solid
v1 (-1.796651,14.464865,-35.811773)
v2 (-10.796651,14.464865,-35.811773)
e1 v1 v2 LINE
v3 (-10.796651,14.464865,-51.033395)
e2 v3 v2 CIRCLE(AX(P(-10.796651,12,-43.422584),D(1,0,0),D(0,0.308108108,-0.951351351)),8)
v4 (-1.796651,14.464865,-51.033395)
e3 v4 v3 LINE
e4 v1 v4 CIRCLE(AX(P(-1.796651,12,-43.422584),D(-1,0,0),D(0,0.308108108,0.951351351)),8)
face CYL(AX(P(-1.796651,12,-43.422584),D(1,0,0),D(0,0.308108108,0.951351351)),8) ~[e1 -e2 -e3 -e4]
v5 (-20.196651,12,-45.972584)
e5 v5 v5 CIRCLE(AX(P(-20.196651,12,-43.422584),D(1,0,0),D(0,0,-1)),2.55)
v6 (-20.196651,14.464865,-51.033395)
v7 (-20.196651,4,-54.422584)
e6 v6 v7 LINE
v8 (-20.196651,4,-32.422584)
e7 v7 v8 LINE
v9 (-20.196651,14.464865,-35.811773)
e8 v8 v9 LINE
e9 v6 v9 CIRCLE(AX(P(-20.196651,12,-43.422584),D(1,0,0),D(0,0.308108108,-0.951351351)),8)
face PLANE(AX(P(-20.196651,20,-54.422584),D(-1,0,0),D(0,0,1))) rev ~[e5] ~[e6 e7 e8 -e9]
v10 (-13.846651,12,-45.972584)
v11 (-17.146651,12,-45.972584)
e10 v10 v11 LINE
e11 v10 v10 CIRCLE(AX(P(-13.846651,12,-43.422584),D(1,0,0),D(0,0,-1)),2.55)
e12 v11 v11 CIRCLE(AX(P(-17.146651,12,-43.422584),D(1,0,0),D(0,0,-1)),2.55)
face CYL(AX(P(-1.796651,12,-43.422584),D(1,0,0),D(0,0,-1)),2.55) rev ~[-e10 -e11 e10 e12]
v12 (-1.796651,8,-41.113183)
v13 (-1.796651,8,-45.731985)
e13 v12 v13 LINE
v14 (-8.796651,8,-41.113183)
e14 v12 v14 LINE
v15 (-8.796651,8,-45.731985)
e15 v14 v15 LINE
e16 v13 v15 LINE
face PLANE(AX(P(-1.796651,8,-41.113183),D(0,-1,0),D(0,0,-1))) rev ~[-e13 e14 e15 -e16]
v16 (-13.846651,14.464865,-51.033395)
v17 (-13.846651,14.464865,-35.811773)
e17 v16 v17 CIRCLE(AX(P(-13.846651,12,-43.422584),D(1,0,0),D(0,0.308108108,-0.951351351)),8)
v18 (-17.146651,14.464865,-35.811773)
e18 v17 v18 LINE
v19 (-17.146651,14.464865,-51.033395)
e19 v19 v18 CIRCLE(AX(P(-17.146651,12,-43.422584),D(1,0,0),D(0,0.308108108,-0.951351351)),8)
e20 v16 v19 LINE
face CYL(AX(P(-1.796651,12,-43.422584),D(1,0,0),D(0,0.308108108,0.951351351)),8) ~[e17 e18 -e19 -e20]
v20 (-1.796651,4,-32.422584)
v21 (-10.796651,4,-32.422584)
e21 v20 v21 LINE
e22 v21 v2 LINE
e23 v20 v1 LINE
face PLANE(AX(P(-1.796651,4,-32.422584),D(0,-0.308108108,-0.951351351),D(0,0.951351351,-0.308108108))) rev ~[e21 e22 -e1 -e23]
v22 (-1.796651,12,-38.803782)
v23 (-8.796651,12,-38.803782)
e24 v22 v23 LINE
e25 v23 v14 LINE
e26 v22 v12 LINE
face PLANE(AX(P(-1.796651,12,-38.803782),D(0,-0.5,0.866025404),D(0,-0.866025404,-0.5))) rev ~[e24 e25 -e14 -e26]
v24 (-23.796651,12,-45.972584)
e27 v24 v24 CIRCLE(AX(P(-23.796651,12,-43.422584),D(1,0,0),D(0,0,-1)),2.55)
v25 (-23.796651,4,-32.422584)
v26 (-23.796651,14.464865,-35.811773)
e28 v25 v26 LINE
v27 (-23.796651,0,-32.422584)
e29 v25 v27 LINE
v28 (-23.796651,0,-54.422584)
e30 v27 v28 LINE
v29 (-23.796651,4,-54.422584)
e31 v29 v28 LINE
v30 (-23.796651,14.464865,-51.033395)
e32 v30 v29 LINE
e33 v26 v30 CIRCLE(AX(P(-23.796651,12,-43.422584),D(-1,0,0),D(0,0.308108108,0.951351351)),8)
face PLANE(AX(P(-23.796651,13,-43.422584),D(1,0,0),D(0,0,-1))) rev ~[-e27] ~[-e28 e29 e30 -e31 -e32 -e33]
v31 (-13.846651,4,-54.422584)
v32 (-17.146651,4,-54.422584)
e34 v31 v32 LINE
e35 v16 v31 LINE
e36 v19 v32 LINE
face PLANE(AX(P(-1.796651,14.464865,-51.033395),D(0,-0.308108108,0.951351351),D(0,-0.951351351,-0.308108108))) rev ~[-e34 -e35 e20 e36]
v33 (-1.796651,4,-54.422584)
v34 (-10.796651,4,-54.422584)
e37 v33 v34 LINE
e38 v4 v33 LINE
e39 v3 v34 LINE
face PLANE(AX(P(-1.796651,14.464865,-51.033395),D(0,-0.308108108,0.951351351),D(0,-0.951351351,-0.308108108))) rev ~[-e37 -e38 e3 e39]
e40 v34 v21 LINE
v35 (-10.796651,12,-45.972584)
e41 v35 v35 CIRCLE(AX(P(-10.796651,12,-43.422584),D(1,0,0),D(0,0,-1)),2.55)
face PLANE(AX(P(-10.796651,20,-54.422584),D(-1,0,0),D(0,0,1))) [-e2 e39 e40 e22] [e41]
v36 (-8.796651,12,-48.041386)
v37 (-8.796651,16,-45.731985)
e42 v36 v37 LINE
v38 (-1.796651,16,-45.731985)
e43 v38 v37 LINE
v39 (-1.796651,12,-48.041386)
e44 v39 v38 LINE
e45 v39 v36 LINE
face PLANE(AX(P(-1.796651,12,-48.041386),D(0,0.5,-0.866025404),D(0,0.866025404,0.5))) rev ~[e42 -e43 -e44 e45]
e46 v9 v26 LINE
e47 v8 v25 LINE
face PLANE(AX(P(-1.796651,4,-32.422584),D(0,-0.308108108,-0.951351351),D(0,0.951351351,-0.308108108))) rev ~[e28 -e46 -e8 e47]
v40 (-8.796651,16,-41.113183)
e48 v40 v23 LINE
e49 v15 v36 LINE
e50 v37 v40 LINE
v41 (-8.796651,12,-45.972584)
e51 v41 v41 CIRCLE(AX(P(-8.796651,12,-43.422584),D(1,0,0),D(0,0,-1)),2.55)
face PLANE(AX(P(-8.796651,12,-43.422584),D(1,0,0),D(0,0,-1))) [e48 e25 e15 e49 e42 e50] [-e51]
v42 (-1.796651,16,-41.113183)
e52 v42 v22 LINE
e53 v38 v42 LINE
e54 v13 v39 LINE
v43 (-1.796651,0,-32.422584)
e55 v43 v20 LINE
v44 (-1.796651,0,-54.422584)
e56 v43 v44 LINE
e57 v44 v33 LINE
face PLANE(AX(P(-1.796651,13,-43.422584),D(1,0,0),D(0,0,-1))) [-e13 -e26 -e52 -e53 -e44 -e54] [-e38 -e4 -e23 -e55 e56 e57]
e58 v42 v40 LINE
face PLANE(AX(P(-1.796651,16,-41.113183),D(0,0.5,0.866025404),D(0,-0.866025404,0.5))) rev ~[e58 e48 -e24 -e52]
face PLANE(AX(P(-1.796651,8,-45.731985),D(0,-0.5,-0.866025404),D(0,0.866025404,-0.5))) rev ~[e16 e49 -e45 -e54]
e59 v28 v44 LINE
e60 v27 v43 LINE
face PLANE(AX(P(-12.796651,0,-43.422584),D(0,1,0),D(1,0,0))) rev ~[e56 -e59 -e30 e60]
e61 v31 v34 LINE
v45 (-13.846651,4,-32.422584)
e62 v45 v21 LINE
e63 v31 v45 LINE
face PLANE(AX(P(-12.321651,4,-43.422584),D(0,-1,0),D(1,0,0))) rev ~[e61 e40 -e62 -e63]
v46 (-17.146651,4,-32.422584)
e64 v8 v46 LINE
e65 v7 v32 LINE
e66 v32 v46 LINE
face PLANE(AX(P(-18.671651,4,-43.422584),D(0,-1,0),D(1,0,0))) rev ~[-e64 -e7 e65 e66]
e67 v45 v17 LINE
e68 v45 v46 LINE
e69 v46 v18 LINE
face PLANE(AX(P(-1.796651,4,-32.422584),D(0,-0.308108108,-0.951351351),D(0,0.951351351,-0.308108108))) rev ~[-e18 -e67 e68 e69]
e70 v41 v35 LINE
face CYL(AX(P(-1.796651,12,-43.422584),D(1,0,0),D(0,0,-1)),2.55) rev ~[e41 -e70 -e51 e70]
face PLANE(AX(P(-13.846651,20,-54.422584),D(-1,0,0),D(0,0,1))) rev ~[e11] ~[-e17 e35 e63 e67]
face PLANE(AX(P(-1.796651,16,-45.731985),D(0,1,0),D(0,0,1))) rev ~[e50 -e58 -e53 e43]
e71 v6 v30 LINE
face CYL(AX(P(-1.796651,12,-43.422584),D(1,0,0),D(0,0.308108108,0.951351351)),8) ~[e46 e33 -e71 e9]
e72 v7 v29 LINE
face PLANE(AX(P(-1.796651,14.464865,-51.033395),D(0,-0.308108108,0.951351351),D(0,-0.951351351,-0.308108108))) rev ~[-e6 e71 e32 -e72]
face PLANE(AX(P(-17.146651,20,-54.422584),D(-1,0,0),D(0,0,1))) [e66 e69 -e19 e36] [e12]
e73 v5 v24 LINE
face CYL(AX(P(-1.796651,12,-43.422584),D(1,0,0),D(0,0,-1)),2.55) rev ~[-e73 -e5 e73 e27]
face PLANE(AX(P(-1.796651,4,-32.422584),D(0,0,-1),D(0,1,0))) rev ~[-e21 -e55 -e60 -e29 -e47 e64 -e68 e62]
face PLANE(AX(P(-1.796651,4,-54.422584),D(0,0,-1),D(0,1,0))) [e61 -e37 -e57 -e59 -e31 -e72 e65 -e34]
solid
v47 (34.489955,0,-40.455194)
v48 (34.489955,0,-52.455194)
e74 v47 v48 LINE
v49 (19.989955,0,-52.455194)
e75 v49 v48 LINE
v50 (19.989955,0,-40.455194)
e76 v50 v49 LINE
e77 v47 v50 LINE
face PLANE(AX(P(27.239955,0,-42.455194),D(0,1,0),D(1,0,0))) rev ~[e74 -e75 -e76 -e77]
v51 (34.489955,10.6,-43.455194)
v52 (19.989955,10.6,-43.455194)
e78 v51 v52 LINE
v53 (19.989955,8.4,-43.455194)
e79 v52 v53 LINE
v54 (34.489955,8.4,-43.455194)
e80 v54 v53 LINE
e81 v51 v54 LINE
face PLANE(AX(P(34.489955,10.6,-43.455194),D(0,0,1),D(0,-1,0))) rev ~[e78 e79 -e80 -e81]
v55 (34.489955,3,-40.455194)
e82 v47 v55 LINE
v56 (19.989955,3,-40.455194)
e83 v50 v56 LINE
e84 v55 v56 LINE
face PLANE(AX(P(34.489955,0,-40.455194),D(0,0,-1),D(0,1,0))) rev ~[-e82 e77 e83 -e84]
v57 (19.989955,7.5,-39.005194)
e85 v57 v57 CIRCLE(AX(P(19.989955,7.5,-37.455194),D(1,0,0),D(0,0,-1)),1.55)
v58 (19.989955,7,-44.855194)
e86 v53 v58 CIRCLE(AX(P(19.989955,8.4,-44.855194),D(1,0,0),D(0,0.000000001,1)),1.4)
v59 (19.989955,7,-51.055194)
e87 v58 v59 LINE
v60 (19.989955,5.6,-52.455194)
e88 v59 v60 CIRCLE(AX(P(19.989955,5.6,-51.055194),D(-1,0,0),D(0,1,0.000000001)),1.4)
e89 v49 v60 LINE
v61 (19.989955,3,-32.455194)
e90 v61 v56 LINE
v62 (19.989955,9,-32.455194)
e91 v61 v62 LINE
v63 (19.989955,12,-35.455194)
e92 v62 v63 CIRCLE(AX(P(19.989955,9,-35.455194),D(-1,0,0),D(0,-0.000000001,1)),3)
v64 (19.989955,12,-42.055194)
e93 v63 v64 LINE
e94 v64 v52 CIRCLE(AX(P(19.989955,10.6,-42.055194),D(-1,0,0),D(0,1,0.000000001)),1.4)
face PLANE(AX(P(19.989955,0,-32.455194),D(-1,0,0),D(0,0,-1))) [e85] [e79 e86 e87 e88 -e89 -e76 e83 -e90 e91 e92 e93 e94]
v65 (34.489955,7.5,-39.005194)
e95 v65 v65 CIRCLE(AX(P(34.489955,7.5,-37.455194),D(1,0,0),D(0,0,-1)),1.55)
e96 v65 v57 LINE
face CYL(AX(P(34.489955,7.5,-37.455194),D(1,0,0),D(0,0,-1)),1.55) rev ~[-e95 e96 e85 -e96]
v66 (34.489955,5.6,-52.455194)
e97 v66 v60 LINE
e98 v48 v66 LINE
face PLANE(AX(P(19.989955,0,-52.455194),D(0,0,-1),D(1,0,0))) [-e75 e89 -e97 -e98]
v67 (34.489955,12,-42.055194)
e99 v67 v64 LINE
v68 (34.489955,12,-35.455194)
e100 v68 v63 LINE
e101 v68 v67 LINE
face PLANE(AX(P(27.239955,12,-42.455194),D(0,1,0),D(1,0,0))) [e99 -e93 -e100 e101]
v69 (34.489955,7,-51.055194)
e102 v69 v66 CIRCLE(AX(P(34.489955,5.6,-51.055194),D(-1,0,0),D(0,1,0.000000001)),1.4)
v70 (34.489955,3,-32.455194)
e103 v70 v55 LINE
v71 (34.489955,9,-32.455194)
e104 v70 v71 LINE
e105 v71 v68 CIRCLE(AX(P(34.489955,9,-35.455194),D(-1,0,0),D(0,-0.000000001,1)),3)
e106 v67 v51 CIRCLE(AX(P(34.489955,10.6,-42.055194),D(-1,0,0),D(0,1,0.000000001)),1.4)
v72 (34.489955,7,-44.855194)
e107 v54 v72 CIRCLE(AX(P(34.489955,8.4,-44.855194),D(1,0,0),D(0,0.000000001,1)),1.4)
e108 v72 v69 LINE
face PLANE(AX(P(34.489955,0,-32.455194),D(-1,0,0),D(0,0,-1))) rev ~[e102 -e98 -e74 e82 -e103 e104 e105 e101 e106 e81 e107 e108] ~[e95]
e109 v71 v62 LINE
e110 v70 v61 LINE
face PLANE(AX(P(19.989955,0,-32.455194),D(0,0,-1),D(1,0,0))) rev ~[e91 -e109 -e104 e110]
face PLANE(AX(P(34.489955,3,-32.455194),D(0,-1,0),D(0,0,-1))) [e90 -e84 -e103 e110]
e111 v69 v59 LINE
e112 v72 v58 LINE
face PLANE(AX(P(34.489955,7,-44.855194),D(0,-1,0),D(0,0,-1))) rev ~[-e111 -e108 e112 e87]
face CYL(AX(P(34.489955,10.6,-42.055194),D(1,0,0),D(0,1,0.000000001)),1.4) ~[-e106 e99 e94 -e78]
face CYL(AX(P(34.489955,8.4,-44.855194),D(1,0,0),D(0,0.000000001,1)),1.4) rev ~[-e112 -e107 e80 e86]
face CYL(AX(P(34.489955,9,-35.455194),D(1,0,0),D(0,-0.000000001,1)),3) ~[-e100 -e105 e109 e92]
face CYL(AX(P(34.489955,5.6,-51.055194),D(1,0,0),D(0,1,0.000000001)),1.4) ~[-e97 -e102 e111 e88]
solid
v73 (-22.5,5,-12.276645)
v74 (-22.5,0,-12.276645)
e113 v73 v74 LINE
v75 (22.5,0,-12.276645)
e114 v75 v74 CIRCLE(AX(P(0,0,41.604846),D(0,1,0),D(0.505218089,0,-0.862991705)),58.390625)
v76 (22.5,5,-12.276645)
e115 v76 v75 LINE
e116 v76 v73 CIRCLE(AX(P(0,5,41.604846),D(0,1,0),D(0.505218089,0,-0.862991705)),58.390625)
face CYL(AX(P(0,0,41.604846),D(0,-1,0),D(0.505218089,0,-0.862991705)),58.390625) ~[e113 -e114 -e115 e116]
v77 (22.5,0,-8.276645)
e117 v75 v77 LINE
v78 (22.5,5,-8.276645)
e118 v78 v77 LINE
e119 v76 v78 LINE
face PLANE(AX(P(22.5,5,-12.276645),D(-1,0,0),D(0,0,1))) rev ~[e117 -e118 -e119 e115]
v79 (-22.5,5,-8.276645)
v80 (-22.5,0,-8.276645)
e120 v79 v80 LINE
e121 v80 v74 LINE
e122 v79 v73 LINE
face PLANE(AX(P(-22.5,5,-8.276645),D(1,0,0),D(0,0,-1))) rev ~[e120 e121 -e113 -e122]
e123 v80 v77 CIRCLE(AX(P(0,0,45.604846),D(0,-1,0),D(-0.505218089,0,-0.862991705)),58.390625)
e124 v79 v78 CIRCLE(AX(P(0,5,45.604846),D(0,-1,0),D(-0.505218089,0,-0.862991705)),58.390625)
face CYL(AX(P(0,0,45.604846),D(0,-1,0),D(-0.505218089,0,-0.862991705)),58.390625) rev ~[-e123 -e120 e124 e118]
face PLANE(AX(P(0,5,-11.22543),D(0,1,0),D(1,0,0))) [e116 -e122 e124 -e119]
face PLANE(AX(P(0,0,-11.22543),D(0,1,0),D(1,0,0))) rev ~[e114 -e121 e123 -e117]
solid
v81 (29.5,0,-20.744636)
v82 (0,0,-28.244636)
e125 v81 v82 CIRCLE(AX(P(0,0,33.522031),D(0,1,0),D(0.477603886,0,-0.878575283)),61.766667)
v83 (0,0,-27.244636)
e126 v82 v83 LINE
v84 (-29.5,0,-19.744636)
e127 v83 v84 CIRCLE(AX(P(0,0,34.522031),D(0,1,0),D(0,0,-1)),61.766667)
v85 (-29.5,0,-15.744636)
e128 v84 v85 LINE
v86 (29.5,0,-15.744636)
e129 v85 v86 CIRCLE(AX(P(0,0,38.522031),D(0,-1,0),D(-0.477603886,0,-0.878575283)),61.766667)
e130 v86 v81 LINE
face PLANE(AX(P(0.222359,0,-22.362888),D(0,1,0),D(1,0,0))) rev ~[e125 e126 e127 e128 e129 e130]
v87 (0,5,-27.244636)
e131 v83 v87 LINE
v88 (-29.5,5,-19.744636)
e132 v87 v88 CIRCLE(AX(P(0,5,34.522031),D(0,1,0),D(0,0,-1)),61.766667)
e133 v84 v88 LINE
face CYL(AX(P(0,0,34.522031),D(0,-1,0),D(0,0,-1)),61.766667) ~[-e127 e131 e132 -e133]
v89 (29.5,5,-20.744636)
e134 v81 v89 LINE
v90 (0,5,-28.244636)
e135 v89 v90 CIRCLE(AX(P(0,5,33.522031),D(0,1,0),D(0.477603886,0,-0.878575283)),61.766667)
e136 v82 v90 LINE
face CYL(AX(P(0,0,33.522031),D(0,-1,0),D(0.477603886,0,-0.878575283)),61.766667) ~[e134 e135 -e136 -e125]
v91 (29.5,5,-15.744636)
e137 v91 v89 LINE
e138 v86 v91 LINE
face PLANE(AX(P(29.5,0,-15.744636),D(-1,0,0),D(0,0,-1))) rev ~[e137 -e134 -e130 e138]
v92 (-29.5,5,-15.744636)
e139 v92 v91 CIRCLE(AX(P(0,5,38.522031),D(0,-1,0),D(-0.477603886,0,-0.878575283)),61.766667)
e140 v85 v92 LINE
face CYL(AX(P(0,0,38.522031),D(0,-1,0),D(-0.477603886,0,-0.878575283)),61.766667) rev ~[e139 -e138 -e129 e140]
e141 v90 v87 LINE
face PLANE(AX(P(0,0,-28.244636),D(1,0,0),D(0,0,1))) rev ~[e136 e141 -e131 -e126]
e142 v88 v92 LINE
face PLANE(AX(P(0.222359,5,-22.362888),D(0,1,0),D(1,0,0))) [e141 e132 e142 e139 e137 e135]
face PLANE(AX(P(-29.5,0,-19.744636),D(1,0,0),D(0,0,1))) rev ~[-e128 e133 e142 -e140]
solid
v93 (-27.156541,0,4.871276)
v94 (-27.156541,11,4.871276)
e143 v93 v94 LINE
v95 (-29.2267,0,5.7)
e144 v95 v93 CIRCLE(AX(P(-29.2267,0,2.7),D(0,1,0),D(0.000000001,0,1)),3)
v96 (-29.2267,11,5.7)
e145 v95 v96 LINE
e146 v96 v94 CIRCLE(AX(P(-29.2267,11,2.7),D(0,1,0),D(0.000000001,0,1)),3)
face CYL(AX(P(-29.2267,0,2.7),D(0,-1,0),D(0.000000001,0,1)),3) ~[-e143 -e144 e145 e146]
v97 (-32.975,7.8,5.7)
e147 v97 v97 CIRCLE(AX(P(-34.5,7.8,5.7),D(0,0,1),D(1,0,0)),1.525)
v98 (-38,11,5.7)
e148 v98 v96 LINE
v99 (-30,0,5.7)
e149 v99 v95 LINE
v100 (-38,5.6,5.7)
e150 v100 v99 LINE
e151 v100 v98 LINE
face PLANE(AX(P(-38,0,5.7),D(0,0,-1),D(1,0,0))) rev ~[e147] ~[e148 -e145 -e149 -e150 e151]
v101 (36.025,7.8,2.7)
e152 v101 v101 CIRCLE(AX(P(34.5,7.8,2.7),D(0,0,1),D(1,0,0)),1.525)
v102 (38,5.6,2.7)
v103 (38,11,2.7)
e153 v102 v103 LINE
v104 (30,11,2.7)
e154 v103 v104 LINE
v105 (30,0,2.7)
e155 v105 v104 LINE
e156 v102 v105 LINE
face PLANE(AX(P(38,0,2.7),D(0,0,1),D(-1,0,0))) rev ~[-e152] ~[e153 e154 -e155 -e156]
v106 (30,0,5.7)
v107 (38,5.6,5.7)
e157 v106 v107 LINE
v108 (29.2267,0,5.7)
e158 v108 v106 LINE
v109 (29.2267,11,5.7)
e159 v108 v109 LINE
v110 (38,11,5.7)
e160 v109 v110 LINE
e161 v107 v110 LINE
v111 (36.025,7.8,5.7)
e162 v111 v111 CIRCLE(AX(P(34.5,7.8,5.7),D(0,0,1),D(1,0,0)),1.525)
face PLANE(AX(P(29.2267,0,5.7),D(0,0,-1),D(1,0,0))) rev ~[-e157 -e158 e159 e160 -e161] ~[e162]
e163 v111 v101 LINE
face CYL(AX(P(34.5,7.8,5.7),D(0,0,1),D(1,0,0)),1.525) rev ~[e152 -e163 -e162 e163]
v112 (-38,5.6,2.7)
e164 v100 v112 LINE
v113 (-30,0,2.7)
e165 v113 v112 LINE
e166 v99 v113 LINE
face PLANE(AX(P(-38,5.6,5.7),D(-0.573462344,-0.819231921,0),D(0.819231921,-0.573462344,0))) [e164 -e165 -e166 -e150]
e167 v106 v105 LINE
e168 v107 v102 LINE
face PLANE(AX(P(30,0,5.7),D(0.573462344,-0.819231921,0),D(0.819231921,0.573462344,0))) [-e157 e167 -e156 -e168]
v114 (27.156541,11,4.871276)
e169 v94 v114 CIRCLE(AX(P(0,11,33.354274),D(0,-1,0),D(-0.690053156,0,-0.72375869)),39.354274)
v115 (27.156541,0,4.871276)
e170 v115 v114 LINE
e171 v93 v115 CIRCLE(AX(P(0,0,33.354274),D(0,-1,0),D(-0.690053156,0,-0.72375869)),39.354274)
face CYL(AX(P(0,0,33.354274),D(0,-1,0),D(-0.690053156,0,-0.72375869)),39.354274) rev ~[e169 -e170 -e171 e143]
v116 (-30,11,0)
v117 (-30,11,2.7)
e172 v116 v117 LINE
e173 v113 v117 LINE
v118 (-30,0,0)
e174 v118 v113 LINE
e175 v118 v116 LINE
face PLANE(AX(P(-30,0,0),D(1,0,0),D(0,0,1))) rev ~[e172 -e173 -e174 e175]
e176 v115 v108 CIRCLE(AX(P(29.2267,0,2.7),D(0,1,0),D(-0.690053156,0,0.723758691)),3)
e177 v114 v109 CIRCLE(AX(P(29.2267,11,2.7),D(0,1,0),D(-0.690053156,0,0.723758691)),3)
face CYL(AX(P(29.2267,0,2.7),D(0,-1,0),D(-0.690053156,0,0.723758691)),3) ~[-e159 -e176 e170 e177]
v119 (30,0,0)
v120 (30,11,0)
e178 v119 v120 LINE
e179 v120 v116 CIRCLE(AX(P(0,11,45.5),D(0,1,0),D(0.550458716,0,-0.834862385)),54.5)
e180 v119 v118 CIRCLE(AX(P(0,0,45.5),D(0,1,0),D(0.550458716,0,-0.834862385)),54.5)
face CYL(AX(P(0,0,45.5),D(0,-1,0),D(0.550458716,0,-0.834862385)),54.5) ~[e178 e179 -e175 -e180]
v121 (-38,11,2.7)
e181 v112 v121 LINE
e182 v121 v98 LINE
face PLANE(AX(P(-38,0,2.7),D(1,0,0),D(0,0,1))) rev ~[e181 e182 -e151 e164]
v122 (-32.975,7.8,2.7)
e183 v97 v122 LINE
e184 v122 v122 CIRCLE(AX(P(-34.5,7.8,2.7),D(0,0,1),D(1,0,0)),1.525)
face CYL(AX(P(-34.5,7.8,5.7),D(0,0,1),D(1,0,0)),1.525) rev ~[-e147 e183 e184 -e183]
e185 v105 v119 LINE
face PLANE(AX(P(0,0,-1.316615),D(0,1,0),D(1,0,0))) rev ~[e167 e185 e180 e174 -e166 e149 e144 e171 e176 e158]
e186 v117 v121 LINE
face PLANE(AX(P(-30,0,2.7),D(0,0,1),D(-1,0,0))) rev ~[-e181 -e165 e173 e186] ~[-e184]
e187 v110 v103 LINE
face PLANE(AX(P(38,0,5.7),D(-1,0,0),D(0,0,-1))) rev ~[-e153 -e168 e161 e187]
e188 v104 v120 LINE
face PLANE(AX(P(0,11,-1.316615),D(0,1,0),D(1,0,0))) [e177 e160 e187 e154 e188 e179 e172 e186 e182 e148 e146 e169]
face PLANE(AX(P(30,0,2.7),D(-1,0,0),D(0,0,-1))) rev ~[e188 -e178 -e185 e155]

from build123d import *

# Parameters (mm, degrees)
BOSS_EXTRUDE1_DEPTH = 11
CUT_EXTRUDE1_REACH  = 16.7
SKETCH2_R           = 1.525
CUT_EXTRUDE12_REACH = 16.7
BOSS_EXTRUDE2_DEPTH = 5
CUT_EXTRUDE11_DEPTH = 5
BOSS_EXTRUDE3_DEPTH = 5
SKETCH10_W          = 14.5
SKETCH10_H          = 20
BOSS_EXTRUDE6_DEPTH = 12
SKETCH11_W          = 8
SKETCH11_H          = 3
CUT_EXTRUDE5_DEPTH  = 14.5
SKETCH12_R          = 1.55
CUT_EXTRUDE6_DEPTH  = 14.5
SKETCH13_W          = 22
SKETCH13_H          = 22
BOSS_EXTRUDE7_DEPTH = 4
SKETCH14_W          = 22
SKETCH14_H          = 18
SKETCH14_R          = 2.55
BOSS_EXTRUDE8_DEPTH = 22
CUT_EXTRUDE7_DEPTH  = 22
CUT_EXTRUDE8_START  = -20
SKETCH17_W          = 3.05
SKETCH17_H          = 22
CUT_EXTRUDE8_DEPTH  = 16
CUT_EXTRUDE9_DEPTH  = 7


with BuildPart() as part:
    # Sketch1 → Boss-Extrude1 (new body)
    with BuildSketch(Plane(origin=(0, 0, 0), x_dir=(1, 0, 0), z_dir=(0, 1, 0))):
        with BuildLine():
            Line((-30, 0), (-30, -2.7))
            Line((-30, -2.7), (-38, -2.7))
            Line((-38, -2.7), (-38, -5.7))
            Line((-38, -5.7), (-29.226700122, -5.7))
            ThreePointArc((-29.226700122, -5.7), (-28.111762502, -5.485123714), (-27.156540652, -4.87127607))
            ThreePointArc((-27.156540652, -4.87127607), (0, 6), (27.156540652, -4.87127607))
            ThreePointArc((27.156540652, -4.87127607), (28.111762502, -5.485123714), (29.226700122, -5.7))
            Line((29.226700122, -5.7), (38, -5.7))
            Line((38, -5.7), (38, -2.7))
            Line((38, -2.7), (30, -2.7))
            Line((30, -2.7), (30, 0))
            ThreePointArc((30, 0), (0, 9), (-30, 0))
        make_face()
    extrude(amount=BOSS_EXTRUDE1_DEPTH)

    # Sketch2 → Cut-Extrude1 (cut, up to next)
    with BuildSketch(Plane.XY.offset(5.7), mode=Mode.PRIVATE) as cut_extrude1_sk1:
        with Locations((-34.5, 7.8)):
            Circle(SKETCH2_R)
    cut_extrude1_tool1 = extrude(cut_extrude1_sk1.sketch, amount=-CUT_EXTRUDE1_REACH, mode=Mode.PRIVATE) & part.part
    add(cut_extrude1_tool1.solids().sort_by_distance((-34.5, 7.8, 5.7))[0], mode=Mode.SUBTRACT)
    # Sketch2 → Cut-Extrude1 (cut, up to next)
    with BuildSketch(Plane.XY.offset(5.7), mode=Mode.PRIVATE) as cut_extrude1_sk2:
        with Locations((34.5, 7.8)):
            Circle(SKETCH2_R)
    cut_extrude1_tool2 = extrude(cut_extrude1_sk2.sketch, amount=-CUT_EXTRUDE1_REACH, mode=Mode.PRIVATE) & part.part
    add(cut_extrude1_tool2.solids().sort_by_distance((34.5, 7.8, 5.7))[0], mode=Mode.SUBTRACT)

    # Sketch20 → Cut-Extrude12 (cut, up to next)
    with BuildSketch(Plane.XY.offset(5.7), mode=Mode.PRIVATE) as cut_extrude12_sk1:
        Polygon((-38, 5.6), (-30, 0), (-38, 0), align=None)
    cut_extrude12_tool1 = extrude(cut_extrude12_sk1.sketch, amount=-CUT_EXTRUDE12_REACH, mode=Mode.PRIVATE) & part.part
    add(cut_extrude12_tool1.solids().sort_by_distance((-35.333333, 1.866667, 5.7))[0], mode=Mode.SUBTRACT)
    # Sketch20 → Cut-Extrude12 (cut, up to next)
    with BuildSketch(Plane.XY.offset(5.7), mode=Mode.PRIVATE) as cut_extrude12_sk2:
        Polygon((38, 0), (30, 0), (38, 5.6), align=None)
    cut_extrude12_tool2 = extrude(cut_extrude12_sk2.sketch, amount=-CUT_EXTRUDE12_REACH, mode=Mode.PRIVATE) & part.part
    add(cut_extrude12_tool2.solids().sort_by_distance((35.333333, 1.866667, 5.7))[0], mode=Mode.SUBTRACT)


with BuildPart() as body_2:
    # Sketch3 → Boss-Extrude2 (new body)
    with BuildSketch(Plane(origin=(0, 0, 0), x_dir=(1, 0, 0), z_dir=(0, 1, 0))):
        with BuildLine():
            Line((-29.5, 8.785778647), (-29.5, 4.785778647))
            ThreePointArc((-29.5, 4.785778647), (0, 12.785778647), (29.5, 4.785778647))
            Line((29.5, 4.785778647), (29.5, 8.785778647))
            ThreePointArc((29.5, 8.785778647), (0, 16.785778647), (-29.5, 8.785778647))
        make_face()
    extrude(amount=BOSS_EXTRUDE2_DEPTH)

    # Sketch21 → Cut-Extrude11 (cut)
    with BuildSketch(Plane(origin=(0, 5, 0), x_dir=(1, 0, 0), z_dir=(0, 1, 0))):
        with BuildLine():
            ThreePointArc((-29.5, 4.785778647), (-26.058521382, 6.648560725), (-22.5, 8.276644791))
            Line((-22.5, 8.276644791), (-22.5, 12.276644791))
            ThreePointArc((-22.5, 12.276644791), (-26.058521382, 10.648560725), (-29.5, 8.785778647))
            Line((-29.5, 8.785778647), (-29.5, 4.785778647))
        make_face()
        with BuildLine():
            Line((22.5, 12.276644791), (22.5, 8.276644791))
            ThreePointArc((22.5, 8.276644791), (26.058521382, 6.648560725), (29.5, 4.785778647))
            Line((29.5, 4.785778647), (29.5, 8.785778647))
            ThreePointArc((29.5, 8.785778647), (26.058521382, 10.648560725), (22.5, 12.276644791))
        make_face()
    extrude(amount=-CUT_EXTRUDE11_DEPTH, mode=Mode.SUBTRACT)


with BuildPart() as body_3:
    # Sketch4 → Boss-Extrude3 (new body)
    with BuildSketch(Plane(origin=(0, 0, 0), x_dir=(1, 0, 0), z_dir=(0, 1, 0))):
        with BuildLine():
            Line((0, 28.244635791), (0, 27.244635791))
            ThreePointArc((0, 27.244635791), (-15.219231255, 25.340278728), (-29.5, 19.744635791))
            Line((-29.5, 19.744635791), (-29.5, 15.744635791))
            ThreePointArc((-29.5, 15.744635791), (0, 23.244635791), (29.5, 15.744635791))
            Line((29.5, 15.744635791), (29.5, 20.744635791))
            ThreePointArc((29.5, 20.744635791), (15.219231255, 26.340278728), (0, 28.244635791))
        make_face()
    extrude(amount=BOSS_EXTRUDE3_DEPTH)


with BuildPart() as body_4:
    # Sketch10 → Boss-Extrude6 (new body)
    with BuildSketch(Plane(origin=(0, 0, 0), x_dir=(1, 0, 0), z_dir=(0, 1, 0))):
        with Locations((27.239954972, 42.455194303)):
            Rectangle(SKETCH10_W, SKETCH10_H)
    extrude(amount=BOSS_EXTRUDE6_DEPTH)

    # Sketch11 → Cut-Extrude5 (cut)
    with BuildSketch(Plane(origin=(34.489954972, 0, 0), x_dir=(0, 0, -1), z_dir=(1, 0, 0))):
        with Locations((36.455194303, 1.5)):
            Rectangle(SKETCH11_W, SKETCH11_H)
        with BuildLine():
            Line((32.455194303, 12), (32.455194303, 9))
            ThreePointArc((32.455194303, 9), (33.333873959, 11.121320344), (35.455194303, 12))
            Line((35.455194303, 12), (32.455194303, 12))
        make_face()
        with BuildLine():
            Line((52.455194303, 12), (42.055194303, 12))
            ThreePointArc((42.055194303, 12), (43.045143797, 11.589949494), (43.455194303, 10.6))
            Line((43.455194303, 10.6), (43.455194303, 8.4))
            ThreePointArc((43.455194303, 8.4), (43.865244809, 7.410050506), (44.855194303, 7))
            Line((44.855194303, 7), (51.055194303, 7))
            ThreePointArc((51.055194303, 7), (52.045143797, 6.589949494), (52.455194303, 5.6))
            Line((52.455194303, 5.6), (52.455194303, 7))
            Line((52.455194303, 7), (52.455194303, 12))
        make_face()
    extrude(amount=-CUT_EXTRUDE5_DEPTH, mode=Mode.SUBTRACT)

    # Sketch12 → Cut-Extrude6 (cut)
    with BuildSketch(Plane(origin=(34.489954972, 0, 0), x_dir=(0, 0, -1), z_dir=(1, 0, 0))):
        with Locations((37.455194303, 7.5)):
            Circle(SKETCH12_R)
    extrude(amount=-CUT_EXTRUDE6_DEPTH, mode=Mode.SUBTRACT)


with BuildPart() as body_5:
    # Sketch13 → Boss-Extrude7 (new body)
    with BuildSketch(Plane(origin=(28.711110342, 0, 0), x_dir=(1, 0, 0), z_dir=(0, 1, 0))):
        with Locations((-41.507760914, 43.422583893)):
            Rectangle(SKETCH13_W, SKETCH13_H)
    extrude(amount=BOSS_EXTRUDE7_DEPTH)

    # Sketch14 → Boss-Extrude8 (add)
    with BuildSketch(Plane(origin=(-1.796650572, 0, 0), x_dir=(0, 0, -1), z_dir=(1, 0, 0))):
        with Locations((43.422583893, 13)):
            Rectangle(SKETCH14_W, SKETCH14_H)
        with Locations((43.422583893, 12)):
            Circle(SKETCH14_R, mode=Mode.SUBTRACT)
    extrude(amount=-BOSS_EXTRUDE8_DEPTH)

    # Sketch15 → Cut-Extrude7 (cut)
    with BuildSketch(Plane(origin=(-1.796650572, 0, 0), x_dir=(0, 0, -1), z_dir=(1, 0, 0))):
        with BuildLine():
            Line((32.422583893, 4), (35.811773083, 14.464864865))
            ThreePointArc((35.811773083, 14.464864865), (43.422583893, 20), (51.033394704, 14.464864865))
            Line((51.033394704, 14.464864865), (54.422583893, 4))
            Line((54.422583893, 4), (54.422583893, 22))
            Line((54.422583893, 22), (32.422583893, 22))
            Line((32.422583893, 22), (32.422583893, 4))
        make_face()
    extrude(amount=-CUT_EXTRUDE7_DEPTH, mode=Mode.SUBTRACT)

    # Sketch17 → Cut-Extrude8 (cut)
    with BuildSketch(Plane(origin=(28.711110342, 0, 0), x_dir=(1, 0, 0), z_dir=(0, -1, 0)).offset(CUT_EXTRUDE8_START)):
        with Locations((-47.382760914, -43.422583893)):
            Rectangle(SKETCH17_W, SKETCH17_H)
        with Locations((-41.032760914, -43.422583893)):
            Rectangle(SKETCH17_W, SKETCH17_H)
    extrude(amount=CUT_EXTRUDE8_DEPTH, mode=Mode.SUBTRACT)

    # Sketch16 → Cut-Extrude9 (cut)
    with BuildSketch(Plane(origin=(-1.796650572, 0, 0), x_dir=(0, 0, -1), z_dir=(1, 0, 0))):
        Polygon((45.73198497, 16), (41.113182817, 16), (38.80378174, 12), (41.113182817, 8), (45.73198497, 8), (48.041386047, 12), align=None)
    extrude(amount=-CUT_EXTRUDE9_DEPTH, mode=Mode.SUBTRACT)


solid = Compound([part.part, body_2.part, body_3.part, body_4.part, body_5.part])
